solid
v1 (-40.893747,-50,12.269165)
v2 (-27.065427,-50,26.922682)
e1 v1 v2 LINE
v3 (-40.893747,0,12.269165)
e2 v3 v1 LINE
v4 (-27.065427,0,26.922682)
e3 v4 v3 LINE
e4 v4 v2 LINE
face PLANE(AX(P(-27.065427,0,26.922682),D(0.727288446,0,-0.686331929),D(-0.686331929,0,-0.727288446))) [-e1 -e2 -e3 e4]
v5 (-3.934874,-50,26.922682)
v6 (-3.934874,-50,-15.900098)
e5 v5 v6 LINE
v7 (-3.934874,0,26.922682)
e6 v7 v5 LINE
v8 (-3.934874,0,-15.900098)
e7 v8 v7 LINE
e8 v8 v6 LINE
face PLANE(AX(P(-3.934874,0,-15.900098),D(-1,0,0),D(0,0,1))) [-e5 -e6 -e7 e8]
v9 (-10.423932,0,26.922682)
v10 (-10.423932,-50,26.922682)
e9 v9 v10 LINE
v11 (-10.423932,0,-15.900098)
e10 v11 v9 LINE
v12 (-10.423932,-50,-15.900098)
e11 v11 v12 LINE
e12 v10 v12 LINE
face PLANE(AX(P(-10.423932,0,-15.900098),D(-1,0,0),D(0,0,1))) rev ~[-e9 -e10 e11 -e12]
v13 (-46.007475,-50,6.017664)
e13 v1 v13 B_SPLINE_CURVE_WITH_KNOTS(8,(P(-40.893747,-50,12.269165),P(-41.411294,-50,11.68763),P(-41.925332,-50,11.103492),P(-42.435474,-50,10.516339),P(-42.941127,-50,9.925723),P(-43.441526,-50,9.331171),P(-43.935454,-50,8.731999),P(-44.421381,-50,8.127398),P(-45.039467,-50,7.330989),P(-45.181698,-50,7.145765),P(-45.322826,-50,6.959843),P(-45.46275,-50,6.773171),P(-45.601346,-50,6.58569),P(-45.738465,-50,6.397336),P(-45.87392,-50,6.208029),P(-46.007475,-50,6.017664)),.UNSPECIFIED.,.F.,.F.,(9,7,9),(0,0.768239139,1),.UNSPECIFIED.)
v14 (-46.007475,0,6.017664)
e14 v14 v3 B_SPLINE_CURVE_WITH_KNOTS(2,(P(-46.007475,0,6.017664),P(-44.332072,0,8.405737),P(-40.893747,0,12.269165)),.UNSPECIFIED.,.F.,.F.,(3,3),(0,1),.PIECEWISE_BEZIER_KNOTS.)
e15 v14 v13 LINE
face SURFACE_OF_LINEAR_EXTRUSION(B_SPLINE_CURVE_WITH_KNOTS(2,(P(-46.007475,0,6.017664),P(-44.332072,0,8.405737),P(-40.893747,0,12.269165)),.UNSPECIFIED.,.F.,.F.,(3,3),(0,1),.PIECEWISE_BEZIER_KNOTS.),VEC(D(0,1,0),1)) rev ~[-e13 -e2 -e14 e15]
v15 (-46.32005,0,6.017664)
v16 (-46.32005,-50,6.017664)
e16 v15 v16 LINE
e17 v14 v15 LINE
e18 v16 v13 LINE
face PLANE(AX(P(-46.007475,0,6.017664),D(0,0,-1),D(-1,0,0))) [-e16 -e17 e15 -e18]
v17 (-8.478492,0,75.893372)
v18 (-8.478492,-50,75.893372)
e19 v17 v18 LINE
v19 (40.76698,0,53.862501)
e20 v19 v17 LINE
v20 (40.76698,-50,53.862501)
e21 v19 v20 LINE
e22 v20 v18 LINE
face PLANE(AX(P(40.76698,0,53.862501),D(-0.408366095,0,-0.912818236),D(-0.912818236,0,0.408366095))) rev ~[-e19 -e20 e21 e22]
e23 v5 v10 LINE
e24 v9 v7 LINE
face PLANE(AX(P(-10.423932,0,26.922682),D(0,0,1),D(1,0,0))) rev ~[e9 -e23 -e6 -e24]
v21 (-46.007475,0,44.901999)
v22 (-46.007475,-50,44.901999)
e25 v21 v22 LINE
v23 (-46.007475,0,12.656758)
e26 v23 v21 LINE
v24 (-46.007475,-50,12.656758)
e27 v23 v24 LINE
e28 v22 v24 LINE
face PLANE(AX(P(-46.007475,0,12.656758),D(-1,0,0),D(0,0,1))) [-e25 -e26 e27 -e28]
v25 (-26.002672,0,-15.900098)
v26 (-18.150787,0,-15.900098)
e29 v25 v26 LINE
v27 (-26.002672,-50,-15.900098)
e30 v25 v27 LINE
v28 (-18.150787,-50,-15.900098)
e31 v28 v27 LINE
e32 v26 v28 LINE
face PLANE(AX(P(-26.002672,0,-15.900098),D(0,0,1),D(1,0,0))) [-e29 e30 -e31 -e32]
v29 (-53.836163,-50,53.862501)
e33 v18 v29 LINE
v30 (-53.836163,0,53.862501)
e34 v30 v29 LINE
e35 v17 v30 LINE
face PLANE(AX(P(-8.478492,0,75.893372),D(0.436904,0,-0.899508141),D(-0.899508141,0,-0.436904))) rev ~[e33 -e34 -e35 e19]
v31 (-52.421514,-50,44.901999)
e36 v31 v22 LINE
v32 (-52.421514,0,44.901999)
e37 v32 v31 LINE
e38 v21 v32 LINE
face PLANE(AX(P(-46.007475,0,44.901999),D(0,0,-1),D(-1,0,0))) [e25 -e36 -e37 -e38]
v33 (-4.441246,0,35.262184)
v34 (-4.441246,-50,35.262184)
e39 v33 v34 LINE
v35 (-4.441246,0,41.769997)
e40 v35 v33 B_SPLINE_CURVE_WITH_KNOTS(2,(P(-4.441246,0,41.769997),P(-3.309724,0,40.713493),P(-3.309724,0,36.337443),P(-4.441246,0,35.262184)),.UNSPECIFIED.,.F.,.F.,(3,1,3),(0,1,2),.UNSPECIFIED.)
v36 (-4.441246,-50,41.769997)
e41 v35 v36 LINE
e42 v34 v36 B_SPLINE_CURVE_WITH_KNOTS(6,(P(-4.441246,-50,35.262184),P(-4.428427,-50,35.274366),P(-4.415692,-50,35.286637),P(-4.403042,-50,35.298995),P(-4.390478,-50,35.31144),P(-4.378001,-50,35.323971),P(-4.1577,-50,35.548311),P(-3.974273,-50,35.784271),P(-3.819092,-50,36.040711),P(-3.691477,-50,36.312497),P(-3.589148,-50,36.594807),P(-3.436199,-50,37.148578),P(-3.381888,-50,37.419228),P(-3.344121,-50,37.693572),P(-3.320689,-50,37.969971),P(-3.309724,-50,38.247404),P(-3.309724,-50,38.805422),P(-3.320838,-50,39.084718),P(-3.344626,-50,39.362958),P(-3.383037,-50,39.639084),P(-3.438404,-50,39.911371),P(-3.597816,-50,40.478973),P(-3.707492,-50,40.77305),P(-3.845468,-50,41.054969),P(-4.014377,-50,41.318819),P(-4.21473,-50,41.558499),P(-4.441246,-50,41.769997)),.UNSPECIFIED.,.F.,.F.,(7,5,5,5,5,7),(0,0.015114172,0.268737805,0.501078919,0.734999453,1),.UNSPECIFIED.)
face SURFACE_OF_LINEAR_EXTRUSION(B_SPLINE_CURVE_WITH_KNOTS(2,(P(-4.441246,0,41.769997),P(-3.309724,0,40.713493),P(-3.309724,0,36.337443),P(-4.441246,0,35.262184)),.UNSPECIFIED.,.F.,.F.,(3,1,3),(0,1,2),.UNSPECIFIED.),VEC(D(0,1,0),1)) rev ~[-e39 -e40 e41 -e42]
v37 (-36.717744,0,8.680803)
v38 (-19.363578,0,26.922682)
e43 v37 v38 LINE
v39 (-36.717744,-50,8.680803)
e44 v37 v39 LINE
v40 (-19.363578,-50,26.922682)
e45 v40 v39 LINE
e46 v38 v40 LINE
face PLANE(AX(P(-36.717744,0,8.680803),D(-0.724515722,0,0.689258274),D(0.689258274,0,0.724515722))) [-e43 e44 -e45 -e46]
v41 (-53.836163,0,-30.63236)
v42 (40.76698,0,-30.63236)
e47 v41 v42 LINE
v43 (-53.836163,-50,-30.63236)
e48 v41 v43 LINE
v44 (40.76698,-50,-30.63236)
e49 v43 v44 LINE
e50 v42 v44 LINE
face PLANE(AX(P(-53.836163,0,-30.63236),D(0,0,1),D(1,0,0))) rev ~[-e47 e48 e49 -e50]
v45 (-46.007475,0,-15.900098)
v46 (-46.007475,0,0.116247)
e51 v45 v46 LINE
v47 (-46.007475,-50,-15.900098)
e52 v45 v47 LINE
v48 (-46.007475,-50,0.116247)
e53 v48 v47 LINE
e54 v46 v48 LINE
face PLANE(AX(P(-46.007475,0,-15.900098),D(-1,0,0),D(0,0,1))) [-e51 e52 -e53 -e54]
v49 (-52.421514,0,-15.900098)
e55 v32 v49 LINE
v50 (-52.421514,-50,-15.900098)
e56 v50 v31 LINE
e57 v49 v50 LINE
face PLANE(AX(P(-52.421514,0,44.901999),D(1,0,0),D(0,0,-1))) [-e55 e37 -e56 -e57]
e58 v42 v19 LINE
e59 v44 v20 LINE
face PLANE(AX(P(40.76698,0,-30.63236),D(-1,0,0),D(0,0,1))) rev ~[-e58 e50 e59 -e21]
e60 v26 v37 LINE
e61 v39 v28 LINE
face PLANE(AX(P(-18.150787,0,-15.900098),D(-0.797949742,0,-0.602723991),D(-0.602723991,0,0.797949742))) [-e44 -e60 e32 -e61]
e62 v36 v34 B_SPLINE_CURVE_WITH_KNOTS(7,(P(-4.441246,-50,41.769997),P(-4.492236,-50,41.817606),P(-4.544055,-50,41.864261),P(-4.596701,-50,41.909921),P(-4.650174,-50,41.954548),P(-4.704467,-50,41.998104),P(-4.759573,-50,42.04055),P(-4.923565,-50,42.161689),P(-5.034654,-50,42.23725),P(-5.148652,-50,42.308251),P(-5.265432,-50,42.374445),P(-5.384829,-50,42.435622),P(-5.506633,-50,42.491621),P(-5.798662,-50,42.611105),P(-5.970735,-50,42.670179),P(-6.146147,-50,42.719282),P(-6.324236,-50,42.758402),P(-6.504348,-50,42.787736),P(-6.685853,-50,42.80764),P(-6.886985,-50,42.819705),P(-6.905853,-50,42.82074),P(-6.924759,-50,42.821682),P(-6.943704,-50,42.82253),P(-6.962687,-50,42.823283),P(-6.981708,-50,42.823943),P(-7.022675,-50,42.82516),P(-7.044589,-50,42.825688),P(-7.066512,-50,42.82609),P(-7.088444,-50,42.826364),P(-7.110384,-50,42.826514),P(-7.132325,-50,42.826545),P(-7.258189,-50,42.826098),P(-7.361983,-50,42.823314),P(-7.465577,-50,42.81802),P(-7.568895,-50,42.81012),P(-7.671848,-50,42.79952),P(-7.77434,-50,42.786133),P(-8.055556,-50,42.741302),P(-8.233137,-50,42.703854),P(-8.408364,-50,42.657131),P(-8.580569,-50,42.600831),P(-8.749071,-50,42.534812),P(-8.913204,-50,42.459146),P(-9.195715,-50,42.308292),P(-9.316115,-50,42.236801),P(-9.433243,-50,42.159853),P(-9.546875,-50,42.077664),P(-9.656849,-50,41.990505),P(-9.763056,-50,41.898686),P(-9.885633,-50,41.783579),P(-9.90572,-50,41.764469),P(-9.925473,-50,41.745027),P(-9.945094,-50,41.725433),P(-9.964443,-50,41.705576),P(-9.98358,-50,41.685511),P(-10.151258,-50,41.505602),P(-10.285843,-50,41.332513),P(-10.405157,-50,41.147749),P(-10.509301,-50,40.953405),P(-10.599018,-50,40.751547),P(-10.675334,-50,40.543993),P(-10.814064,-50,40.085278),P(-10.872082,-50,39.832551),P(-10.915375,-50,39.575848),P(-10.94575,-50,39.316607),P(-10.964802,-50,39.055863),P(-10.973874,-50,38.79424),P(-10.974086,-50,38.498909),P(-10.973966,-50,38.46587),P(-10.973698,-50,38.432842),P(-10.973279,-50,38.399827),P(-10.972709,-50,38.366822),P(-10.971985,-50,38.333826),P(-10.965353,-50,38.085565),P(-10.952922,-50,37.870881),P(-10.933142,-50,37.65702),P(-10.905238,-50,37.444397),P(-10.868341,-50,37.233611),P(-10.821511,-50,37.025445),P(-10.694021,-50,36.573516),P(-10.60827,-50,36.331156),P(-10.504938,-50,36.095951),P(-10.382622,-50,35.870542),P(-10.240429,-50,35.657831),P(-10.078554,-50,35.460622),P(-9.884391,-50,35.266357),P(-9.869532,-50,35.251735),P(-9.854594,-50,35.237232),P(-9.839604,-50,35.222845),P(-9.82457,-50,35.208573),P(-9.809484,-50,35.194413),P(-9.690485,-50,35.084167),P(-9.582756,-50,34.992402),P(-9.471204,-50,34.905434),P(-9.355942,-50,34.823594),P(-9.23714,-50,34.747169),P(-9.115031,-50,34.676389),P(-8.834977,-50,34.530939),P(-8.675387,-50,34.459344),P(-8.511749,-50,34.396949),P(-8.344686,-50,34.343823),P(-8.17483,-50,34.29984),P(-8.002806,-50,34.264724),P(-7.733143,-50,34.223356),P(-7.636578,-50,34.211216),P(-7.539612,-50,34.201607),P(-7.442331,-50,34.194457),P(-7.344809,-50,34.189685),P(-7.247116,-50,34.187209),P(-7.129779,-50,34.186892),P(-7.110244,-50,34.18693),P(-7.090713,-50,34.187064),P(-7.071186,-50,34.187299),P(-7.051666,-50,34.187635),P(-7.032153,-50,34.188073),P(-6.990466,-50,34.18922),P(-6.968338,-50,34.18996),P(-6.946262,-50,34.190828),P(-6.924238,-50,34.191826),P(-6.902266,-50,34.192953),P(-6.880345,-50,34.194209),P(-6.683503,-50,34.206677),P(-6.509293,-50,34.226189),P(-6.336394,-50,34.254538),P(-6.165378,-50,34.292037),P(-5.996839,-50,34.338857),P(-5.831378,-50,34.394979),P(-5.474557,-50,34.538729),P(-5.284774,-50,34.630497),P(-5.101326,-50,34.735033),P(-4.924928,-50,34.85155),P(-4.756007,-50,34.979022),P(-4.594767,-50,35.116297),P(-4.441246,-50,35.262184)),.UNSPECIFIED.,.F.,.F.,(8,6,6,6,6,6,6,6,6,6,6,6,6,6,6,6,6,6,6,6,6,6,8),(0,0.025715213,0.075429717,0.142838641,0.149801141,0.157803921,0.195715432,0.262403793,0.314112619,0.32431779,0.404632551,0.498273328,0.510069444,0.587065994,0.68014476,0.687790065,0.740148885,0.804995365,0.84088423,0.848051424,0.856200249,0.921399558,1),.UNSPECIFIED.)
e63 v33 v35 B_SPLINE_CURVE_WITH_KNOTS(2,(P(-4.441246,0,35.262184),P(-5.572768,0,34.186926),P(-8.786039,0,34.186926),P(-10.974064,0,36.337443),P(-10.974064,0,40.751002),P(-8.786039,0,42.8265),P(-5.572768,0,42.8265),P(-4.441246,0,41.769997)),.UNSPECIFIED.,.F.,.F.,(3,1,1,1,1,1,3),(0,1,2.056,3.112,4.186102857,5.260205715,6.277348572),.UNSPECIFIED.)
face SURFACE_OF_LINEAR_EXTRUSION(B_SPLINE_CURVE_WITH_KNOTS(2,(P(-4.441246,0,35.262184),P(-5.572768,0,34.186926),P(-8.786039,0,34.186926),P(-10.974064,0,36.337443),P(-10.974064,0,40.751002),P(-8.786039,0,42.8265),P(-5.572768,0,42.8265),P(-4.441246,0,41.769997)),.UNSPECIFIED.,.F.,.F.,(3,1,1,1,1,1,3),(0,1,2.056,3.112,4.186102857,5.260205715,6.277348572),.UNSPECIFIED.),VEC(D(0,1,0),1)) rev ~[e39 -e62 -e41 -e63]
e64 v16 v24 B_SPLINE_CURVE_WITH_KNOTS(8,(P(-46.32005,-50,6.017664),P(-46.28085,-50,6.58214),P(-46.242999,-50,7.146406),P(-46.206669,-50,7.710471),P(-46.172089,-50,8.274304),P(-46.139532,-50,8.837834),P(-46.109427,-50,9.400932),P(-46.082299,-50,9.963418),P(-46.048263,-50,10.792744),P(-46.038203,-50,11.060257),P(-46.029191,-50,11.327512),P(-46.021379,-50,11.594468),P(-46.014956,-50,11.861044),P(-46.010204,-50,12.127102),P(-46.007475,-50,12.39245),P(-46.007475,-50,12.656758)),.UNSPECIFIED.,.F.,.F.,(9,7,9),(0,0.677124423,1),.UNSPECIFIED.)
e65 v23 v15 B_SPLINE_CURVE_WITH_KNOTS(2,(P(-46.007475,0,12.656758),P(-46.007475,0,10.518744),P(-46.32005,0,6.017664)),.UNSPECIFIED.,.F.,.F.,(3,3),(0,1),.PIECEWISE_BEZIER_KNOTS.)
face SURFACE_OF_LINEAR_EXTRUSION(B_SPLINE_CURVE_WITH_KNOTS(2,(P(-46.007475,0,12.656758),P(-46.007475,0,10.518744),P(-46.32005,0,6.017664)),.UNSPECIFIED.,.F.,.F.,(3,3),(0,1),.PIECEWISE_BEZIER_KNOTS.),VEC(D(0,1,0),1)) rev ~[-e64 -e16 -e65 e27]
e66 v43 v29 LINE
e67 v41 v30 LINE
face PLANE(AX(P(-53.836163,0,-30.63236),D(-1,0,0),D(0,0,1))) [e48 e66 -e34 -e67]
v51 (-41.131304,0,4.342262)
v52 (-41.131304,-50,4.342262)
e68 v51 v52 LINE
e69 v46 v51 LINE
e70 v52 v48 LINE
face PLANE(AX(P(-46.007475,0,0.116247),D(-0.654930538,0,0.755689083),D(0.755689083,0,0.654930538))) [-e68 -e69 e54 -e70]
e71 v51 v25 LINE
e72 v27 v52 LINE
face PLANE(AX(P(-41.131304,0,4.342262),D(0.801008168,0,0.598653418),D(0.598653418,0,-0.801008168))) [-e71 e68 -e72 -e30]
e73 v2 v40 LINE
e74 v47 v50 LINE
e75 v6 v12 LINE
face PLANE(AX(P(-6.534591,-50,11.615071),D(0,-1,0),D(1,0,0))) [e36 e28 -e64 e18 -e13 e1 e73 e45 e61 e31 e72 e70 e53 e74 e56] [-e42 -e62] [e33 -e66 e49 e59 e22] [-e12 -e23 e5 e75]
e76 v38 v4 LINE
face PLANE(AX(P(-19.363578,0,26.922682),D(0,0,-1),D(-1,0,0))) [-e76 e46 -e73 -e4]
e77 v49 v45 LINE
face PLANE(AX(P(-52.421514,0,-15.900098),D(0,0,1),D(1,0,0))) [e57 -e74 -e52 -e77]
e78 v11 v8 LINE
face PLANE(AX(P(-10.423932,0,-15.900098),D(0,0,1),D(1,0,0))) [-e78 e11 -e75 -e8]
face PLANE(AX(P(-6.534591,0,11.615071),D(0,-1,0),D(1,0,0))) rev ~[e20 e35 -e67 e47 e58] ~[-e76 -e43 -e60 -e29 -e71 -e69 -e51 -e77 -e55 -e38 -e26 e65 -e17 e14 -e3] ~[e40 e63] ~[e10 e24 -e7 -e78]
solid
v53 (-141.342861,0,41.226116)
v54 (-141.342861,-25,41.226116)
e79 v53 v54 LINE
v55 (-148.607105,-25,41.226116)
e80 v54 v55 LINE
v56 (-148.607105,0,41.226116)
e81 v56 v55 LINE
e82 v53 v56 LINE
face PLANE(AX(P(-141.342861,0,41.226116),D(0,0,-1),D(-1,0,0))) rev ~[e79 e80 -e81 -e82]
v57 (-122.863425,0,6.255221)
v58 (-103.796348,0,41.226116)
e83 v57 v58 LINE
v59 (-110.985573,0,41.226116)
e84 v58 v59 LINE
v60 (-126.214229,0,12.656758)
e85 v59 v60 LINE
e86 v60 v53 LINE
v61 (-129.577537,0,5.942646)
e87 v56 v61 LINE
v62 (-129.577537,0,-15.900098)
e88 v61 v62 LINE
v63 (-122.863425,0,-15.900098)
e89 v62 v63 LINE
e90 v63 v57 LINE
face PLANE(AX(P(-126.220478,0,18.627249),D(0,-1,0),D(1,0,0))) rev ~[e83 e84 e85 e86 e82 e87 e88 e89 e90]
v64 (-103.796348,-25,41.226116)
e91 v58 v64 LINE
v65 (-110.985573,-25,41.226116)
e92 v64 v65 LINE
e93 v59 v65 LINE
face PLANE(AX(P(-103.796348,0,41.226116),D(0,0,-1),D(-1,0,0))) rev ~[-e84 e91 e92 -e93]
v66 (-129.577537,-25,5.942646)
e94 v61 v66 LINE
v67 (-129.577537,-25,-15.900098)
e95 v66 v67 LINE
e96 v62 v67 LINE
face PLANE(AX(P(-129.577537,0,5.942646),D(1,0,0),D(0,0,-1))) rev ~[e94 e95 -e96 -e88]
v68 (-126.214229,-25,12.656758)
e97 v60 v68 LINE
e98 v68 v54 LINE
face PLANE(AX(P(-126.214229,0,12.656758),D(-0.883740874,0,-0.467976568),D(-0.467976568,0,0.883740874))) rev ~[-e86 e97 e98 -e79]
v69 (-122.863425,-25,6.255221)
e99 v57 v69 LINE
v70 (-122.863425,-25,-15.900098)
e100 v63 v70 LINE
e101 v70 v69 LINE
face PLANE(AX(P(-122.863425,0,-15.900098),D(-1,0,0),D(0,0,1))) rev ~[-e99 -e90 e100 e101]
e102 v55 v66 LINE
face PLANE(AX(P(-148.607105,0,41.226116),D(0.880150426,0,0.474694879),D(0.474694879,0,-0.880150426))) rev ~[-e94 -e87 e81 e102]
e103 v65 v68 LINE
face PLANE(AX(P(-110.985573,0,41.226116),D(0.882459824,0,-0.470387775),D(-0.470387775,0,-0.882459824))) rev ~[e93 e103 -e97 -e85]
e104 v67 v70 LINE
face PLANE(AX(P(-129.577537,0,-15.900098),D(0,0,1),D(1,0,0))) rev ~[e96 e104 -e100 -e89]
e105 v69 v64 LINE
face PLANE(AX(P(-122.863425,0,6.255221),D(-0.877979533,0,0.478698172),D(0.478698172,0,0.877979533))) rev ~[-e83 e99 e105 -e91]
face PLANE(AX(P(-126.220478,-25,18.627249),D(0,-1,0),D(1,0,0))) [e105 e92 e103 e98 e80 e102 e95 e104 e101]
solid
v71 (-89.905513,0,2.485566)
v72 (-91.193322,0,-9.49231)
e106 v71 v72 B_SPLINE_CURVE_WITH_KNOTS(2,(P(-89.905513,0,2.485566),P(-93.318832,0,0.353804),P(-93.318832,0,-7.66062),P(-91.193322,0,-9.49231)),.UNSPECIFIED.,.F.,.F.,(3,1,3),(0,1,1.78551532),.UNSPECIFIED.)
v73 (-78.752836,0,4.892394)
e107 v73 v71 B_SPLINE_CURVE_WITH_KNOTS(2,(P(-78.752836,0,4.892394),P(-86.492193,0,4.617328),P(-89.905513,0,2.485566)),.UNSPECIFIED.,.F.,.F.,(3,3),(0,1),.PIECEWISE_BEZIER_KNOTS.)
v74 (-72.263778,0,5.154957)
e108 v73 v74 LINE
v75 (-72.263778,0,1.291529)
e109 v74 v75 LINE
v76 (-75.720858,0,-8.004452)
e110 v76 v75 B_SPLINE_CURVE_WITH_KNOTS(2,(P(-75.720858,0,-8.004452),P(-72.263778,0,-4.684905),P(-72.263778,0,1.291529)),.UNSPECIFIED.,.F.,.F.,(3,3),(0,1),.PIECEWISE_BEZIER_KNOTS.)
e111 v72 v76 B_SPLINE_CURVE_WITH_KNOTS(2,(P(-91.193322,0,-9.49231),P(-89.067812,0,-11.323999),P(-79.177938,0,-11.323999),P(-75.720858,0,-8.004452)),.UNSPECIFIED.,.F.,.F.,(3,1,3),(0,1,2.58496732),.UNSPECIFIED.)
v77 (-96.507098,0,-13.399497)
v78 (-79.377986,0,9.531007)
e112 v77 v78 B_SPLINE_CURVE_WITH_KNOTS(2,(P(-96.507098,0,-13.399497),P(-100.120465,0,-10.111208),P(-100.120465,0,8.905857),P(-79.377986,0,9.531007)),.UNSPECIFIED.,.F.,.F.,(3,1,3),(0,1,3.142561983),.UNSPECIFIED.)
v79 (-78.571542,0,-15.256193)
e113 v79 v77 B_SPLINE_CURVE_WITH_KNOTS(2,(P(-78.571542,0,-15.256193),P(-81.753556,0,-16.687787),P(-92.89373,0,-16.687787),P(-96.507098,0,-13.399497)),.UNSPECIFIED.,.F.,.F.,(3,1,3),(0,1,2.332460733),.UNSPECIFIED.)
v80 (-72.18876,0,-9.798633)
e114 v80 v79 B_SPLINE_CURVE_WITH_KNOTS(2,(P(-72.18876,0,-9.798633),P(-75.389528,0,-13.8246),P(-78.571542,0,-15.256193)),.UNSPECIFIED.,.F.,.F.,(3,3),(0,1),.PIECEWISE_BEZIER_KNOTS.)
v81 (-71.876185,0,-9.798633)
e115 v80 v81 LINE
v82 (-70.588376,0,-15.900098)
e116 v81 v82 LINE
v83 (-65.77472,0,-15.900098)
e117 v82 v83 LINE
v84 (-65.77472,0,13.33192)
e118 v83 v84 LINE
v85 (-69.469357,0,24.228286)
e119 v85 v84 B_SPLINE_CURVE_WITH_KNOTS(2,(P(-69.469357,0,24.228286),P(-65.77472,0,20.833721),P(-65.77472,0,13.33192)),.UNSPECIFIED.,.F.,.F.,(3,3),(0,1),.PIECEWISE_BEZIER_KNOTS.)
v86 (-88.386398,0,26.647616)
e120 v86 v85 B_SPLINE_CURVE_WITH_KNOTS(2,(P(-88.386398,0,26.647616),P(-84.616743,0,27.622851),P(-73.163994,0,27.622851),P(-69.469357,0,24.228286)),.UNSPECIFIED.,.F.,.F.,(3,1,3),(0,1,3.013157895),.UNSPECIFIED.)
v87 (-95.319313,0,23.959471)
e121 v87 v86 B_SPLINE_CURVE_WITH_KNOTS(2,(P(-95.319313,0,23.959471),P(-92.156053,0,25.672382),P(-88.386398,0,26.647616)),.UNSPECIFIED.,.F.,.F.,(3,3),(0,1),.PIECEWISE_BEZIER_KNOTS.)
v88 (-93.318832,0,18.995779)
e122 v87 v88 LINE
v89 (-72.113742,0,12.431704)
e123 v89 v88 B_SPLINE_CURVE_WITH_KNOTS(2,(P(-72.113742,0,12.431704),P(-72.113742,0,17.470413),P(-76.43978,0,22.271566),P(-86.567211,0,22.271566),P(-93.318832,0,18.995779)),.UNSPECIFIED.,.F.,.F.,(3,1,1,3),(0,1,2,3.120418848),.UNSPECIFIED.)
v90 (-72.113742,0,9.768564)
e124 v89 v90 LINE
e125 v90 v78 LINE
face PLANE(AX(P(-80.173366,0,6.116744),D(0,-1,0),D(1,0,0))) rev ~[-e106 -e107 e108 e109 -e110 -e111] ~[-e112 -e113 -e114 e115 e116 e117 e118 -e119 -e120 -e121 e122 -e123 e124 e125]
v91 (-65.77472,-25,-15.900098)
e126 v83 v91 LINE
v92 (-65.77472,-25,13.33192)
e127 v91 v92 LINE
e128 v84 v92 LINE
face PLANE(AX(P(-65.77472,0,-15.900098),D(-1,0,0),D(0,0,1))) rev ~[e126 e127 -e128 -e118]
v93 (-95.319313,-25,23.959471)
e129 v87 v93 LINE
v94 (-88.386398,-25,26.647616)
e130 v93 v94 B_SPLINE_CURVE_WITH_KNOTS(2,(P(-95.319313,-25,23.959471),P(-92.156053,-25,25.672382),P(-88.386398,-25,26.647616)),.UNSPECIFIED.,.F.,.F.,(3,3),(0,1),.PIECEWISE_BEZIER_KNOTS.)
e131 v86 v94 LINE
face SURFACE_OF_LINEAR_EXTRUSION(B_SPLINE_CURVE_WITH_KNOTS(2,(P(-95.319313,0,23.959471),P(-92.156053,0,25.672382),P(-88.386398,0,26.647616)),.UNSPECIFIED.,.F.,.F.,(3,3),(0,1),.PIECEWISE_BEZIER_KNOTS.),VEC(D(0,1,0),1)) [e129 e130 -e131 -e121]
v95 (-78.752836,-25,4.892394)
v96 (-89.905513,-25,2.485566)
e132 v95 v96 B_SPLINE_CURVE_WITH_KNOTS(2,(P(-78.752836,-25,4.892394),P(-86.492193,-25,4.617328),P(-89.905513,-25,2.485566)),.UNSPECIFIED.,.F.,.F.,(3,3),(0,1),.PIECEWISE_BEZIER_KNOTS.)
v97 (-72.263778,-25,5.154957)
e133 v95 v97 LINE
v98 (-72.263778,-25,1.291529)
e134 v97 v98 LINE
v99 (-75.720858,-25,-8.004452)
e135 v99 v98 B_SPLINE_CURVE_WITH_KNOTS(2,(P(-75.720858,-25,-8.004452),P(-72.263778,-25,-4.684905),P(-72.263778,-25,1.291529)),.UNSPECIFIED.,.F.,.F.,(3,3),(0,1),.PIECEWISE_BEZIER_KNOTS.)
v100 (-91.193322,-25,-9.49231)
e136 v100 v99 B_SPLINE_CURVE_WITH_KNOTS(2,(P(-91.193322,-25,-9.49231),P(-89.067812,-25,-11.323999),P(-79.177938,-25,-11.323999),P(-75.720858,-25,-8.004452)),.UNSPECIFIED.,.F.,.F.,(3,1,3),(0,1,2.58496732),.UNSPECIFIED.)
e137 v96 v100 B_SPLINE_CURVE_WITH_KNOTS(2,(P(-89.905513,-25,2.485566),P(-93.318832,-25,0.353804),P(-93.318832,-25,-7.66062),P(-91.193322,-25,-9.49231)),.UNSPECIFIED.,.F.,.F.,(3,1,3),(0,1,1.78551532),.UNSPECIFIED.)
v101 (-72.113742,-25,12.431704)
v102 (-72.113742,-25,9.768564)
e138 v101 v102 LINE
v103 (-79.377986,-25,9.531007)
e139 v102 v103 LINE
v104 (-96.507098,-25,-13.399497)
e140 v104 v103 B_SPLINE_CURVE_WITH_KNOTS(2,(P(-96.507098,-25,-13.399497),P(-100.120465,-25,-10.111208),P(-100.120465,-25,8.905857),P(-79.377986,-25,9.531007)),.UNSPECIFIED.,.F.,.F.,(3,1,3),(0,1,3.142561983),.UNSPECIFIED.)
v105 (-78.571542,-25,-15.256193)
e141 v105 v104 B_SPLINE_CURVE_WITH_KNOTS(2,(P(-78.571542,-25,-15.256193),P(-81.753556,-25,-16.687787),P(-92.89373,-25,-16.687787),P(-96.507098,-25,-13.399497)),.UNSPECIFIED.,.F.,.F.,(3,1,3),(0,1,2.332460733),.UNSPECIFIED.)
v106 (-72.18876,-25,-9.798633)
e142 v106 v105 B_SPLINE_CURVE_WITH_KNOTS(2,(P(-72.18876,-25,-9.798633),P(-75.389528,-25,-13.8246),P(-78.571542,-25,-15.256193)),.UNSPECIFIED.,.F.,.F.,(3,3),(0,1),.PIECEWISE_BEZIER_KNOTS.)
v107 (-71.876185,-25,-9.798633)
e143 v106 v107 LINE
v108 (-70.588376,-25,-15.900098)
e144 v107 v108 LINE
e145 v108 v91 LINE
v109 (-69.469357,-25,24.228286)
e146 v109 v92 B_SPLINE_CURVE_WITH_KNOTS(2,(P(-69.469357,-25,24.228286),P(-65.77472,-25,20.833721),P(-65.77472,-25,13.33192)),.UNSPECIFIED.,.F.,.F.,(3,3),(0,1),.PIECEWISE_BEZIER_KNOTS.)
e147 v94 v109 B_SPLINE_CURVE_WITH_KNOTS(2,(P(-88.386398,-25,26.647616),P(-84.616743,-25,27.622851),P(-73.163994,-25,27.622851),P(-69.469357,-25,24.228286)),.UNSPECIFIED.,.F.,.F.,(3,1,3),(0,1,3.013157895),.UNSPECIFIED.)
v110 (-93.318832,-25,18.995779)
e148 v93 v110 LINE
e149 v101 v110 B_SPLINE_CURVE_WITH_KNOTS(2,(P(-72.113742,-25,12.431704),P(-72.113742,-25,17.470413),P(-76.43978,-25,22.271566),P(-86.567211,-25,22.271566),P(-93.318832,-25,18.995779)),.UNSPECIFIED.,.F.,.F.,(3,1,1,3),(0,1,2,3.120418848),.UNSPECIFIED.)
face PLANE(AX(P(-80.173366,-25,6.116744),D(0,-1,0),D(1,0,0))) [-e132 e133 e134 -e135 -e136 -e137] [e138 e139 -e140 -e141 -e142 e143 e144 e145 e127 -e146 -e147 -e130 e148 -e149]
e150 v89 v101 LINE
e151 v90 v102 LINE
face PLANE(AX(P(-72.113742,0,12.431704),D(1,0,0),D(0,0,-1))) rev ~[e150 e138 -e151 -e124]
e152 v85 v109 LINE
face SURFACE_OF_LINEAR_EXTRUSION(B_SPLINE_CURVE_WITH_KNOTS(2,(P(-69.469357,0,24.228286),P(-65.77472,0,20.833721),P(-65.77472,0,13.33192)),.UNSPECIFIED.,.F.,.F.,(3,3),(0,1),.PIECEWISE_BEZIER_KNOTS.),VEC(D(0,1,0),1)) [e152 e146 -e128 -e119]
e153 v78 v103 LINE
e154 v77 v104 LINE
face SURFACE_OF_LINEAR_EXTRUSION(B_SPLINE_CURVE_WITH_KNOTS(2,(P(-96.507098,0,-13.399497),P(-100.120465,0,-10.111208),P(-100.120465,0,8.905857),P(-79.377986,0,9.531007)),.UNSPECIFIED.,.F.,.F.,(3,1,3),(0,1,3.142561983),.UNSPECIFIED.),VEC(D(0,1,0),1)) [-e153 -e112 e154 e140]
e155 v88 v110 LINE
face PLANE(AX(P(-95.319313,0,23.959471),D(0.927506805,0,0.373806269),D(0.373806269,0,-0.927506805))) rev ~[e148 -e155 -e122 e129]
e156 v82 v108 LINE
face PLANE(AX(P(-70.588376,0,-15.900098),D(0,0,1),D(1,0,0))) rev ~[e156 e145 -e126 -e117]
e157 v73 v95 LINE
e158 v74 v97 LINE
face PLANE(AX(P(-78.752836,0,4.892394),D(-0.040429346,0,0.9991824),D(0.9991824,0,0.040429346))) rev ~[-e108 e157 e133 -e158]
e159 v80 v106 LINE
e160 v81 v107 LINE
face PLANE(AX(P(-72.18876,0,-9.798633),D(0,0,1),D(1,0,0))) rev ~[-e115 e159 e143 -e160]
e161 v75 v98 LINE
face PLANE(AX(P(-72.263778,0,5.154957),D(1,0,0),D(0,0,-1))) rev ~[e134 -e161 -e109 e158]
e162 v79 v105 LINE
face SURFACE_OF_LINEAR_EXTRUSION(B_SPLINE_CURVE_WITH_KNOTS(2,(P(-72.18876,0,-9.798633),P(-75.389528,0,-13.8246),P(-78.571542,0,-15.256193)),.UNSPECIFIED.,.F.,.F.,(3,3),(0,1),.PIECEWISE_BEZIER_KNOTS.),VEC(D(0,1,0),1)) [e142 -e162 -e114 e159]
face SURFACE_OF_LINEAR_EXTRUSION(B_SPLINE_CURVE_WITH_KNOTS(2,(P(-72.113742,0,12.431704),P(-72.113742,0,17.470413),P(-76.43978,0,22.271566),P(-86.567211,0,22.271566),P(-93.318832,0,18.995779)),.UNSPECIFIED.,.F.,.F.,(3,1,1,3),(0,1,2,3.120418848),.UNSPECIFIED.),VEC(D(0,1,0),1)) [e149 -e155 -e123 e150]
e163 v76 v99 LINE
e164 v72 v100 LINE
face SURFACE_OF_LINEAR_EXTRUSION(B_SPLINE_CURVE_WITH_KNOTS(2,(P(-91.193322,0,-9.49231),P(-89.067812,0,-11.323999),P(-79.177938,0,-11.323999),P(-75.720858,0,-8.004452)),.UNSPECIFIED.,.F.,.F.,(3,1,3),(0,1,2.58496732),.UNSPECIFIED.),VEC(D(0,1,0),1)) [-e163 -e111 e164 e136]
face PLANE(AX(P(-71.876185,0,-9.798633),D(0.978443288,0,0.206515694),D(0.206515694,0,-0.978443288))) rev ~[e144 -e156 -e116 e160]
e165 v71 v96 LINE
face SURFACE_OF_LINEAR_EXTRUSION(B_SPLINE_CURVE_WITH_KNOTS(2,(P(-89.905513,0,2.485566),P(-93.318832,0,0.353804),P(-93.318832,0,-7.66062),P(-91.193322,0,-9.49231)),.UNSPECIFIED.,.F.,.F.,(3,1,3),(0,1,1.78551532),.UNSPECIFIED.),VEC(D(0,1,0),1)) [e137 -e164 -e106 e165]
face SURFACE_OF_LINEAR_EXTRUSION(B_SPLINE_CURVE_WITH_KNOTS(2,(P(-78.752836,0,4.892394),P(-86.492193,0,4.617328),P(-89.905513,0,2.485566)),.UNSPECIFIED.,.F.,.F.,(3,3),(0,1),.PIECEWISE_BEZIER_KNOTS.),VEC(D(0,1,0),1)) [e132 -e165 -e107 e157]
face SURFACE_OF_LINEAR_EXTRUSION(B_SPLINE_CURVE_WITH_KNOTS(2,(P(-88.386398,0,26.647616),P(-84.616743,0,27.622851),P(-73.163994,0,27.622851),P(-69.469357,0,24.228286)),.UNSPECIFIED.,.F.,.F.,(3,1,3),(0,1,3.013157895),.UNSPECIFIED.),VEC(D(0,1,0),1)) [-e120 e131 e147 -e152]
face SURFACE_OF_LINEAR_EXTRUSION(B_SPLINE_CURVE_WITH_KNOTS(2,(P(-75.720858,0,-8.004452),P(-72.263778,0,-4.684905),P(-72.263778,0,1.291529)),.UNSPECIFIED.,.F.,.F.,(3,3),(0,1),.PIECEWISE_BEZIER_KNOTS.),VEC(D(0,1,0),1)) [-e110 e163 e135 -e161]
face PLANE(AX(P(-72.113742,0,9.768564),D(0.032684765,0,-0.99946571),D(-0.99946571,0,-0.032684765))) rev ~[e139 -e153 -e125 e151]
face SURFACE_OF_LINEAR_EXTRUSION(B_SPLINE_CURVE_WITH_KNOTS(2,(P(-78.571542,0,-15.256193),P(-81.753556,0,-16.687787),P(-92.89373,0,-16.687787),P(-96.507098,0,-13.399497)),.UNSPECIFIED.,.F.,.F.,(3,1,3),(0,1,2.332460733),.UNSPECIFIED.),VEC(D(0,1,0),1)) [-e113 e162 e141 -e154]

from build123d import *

# Parameters (mm, degrees)
F0_W     = 94.6031436324
F0_H     = 84.4948608428
F1_DEPTH = 50
F3_DEPTH = 25
F2_W     = 6.4890577899
F2_H     = 42.8227802129
F4_DEPTH = 50.001


with BuildPart() as f1:
    # F0 (on Front) → F1 (new body)
    with BuildSketch(Plane.XZ):
        with Locations((-6.5345913172, 11.6150705144)):
            Rectangle(F0_W, F0_H)
        Polygon((-8.4784915671, 75.8933722973), (-53.8361631334, 53.8625009358), (40.766980499, 53.8625009358), align=None)
    extrude(amount=F1_DEPTH)

    # F2 (on Front) → F4 (cut, through all)
    with BuildSketch(Plane.XZ):
        with Locations((-7.1794033004, 5.5112923191)):
            Rectangle(F2_W, F2_H)
        with BuildLine():
            add(Edge.make_bspline(
                [(-10.9740642624, 38.5254678379), (-10.9740642624, 40.7510021089), (-9.8800516292, 41.7887512352)],
                knots=[0, 0, 0, 1, 1, 1], degree=2))
            add(Edge.make_bspline(
                [(-9.8800516292, 35.2621844407), (-10.9740642624, 36.3374425716), (-10.9740642624, 38.5254678379)],
                knots=[0, 0, 0, 1, 1, 1], degree=2))
            add(Edge.make_bspline(
                [(-7.1356427951, 34.1869263098), (-8.786038996, 34.1869263098), (-9.8800516292, 35.2621844407)],
                knots=[0, 0, 0, 1, 1, 1], degree=2))
            add(Edge.make_bspline(
                [(-4.4412459671, 35.2621844407), (-5.5727676049, 34.1869263098), (-7.1356427951, 34.1869263098)],
                knots=[0, 0, 0, 1, 1, 1], degree=2))
            add(Edge.make_bspline(
                [(-3.3097243294, 38.5254678379), (-3.3097243294, 36.3374425716), (-4.4412459671, 35.2621844407)],
                knots=[0, 0, 0, 1, 1, 1], degree=2))
            add(Edge.make_bspline(
                [(-4.4412459671, 41.7699967329), (-3.3097243294, 40.7134931043), (-3.3097243294, 38.5254678379)],
                knots=[0, 0, 0, 1, 1, 1], degree=2))
            add(Edge.make_bspline(
                [(-7.1356427951, 42.8265003615), (-5.5727676049, 42.8265003615), (-4.4412459671, 41.7699967329)],
                knots=[0, 0, 0, 1, 1, 1], degree=2))
            add(Edge.make_bspline(
                [(-9.8800516292, 41.7887512352), (-8.786038996, 42.8265003615), (-7.1356427951, 42.8265003615)],
                knots=[0, 0, 0, 1, 1, 1], degree=2))
        make_face()
        with BuildLine():
            add(Edge.make_bspline(
                [(-46.0074745271, 6.0176638807), (-44.3320723231, 8.4057371714), (-40.8937469046, 12.2691646417)],
                knots=[0, 0, 0, 1, 1, 1], degree=2))
            Line((-46.0074745271, 6.0176638807), (-46.3200495651, 6.0176638807))
            add(Edge.make_bspline(
                [(-46.0074745271, 12.6567576889), (-46.0074745271, 10.5187444286), (-46.3200495651, 6.0176638807)],
                knots=[0, 0, 0, 1, 1, 1], degree=2))
            Line((-46.0074745271, 12.6567576889), (-46.0074745271, 44.9019986142))
            Line((-46.0074745271, 44.9019986142), (-52.4215143079, 44.9019986142))
            Line((-52.4215143079, 44.9019986142), (-52.4215143079, -15.9000977874))
            Line((-52.4215143079, -15.9000977874), (-46.0074745271, -15.9000977874))
            Line((-46.0074745271, -15.9000977874), (-46.0074745271, 0.1162471623))
            Line((-46.0074745271, 0.1162471623), (-41.1313039335, 4.3422616768))
            Line((-41.1313039335, 4.3422616768), (-26.0026720918, -15.9000977874))
            Line((-26.0026720918, -15.9000977874), (-18.150787136, -15.9000977874))
            Line((-18.150787136, -15.9000977874), (-36.7177443962, 8.6808032049))
            Line((-36.7177443962, 8.6808032049), (-19.3635782836, 26.9226824255))
            Line((-19.3635782836, 26.9226824255), (-27.0654272212, 26.9226824255))
            Line((-27.0654272212, 26.9226824255), (-40.8937469046, 12.2691646417))
        make_face()
    extrude(amount=F4_DEPTH, mode=Mode.SUBTRACT)


with BuildPart() as f3:
    # F2 (on Front) → F3 (new body)
    with BuildSketch(Plane.XZ):
        Polygon((-110.985573437, 41.2261161667), (-126.2142292908, 12.6567576889), (-141.3428611324, 41.2261161667), (-148.6071050167, 41.2261161667), (-129.5775367002, 5.9426458716), (-129.5775367002, -15.9000977874), (-122.8634248829, -15.9000977874), (-122.8634248829, 6.2552209096), (-103.7963475618, 41.2261161667), align=None)
        with BuildLine():
            Line((-71.8761846761, -9.7986330446), (-70.5883755193, -15.9000977874))
            Line((-70.5883755193, -15.9000977874), (-65.7747199334, -15.9000977874))
            Line((-65.7747199334, -15.9000977874), (-65.7747199334, 13.3319197711))
            add(Edge.make_bspline(
                [(-69.4693568831, 24.2282855975), (-65.7747199334, 20.8337206843), (-65.7747199334, 13.3319197711)],
                knots=[0, 0, 0, 1, 1, 1], degree=2))
            add(Edge.make_bspline(
                [(-80.8158307643, 27.6228505108), (-73.1639938329, 27.6228505108), (-69.4693568831, 24.2282855975)],
                knots=[0, 0, 0, 1, 1, 1], degree=2))
            add(Edge.make_bspline(
                [(-88.3863981859, 26.647616392), (-84.616743227, 27.6228505108), (-80.8158307643, 27.6228505108)],
                knots=[0, 0, 0, 1, 1, 1], degree=2))
            add(Edge.make_bspline(
                [(-95.3193125299, 23.9594710648), (-92.1560531448, 25.6723822733), (-88.3863981859, 26.647616392)],
                knots=[0, 0, 0, 1, 1, 1], degree=2))
            Line((-95.3193125299, 23.9594710648), (-93.3188322864, 18.9957794606))
            add(Edge.make_bspline(
                [(-81.2159268131, 22.2715658593), (-86.5672114645, 22.2715658593), (-93.3188322864, 18.9957794606)],
                knots=[0, 0, 0, 1, 1, 1], degree=2))
            add(Edge.make_bspline(
                [(-74.2767609683, 19.8709895671), (-76.4397802316, 22.2715658593), (-81.2159268131, 22.2715658593)],
                knots=[0, 0, 0, 1, 1, 1], degree=2))
            add(Edge.make_bspline(
                [(-72.113741705, 12.4317036615), (-72.113741705, 17.4704132749), (-74.2767609683, 19.8709895671)],
                knots=[0, 0, 0, 1, 1, 1], degree=2))
            Line((-72.113741705, 12.4317036615), (-72.113741705, 9.7685643373))
            Line((-72.113741705, 9.7685643373), (-79.3779855893, 9.5310073084))
            add(Edge.make_bspline(
                [(-100.1204651143, -4.059755346), (-100.1204651143, 8.9058572323), (-79.3779855893, 9.5310073084)],
                knots=[0, 0, 0, 1, 1, 1], degree=2))
            add(Edge.make_bspline(
                [(-96.5070976745, -13.399497483), (-100.1204651143, -10.1112080827), (-100.1204651143, -4.059755346)],
                knots=[0, 0, 0, 1, 1, 1], degree=2))
            add(Edge.make_bspline(
                [(-86.5297024599, -16.6877868833), (-92.8937302346, -16.6877868833), (-96.5070976745, -13.399497483)],
                knots=[0, 0, 0, 1, 1, 1], degree=2))
            add(Edge.make_bspline(
                [(-78.5715419911, -15.256193209), (-81.7535558785, -16.6877868833), (-86.5297024599, -16.6877868833)],
                knots=[0, 0, 0, 1, 1, 1], degree=2))
            add(Edge.make_bspline(
                [(-72.1887597142, -9.7986330446), (-75.3895281038, -13.8245995347), (-78.5715419911, -15.256193209)],
                knots=[0, 0, 0, 1, 1, 1], degree=2))
            Line((-72.1887597142, -9.7986330446), (-71.8761846761, -9.7986330446))
        make_face()
        with BuildLine():
            add(Edge.make_bspline(
                [(-85.2418933031, -11.3239992303), (-79.177937565, -11.3239992303), (-75.7208576441, -8.0044523262)],
                knots=[0, 0, 0, 1, 1, 1], degree=2))
            add(Edge.make_bspline(
                [(-91.1933220276, -9.4923095073), (-89.0678117689, -11.3239992303), (-85.2418933031, -11.3239992303)],
                knots=[0, 0, 0, 1, 1, 1], degree=2))
            add(Edge.make_bspline(
                [(-93.3188322864, -4.1347733552), (-93.3188322864, -7.6606197844), (-91.1933220276, -9.4923095073)],
                knots=[0, 0, 0, 1, 1, 1], degree=2))
            add(Edge.make_bspline(
                [(-89.9055128709, 2.4855659507), (-93.3188322864, 0.3538041912), (-93.3188322864, -4.1347733552)],
                knots=[0, 0, 0, 1, 1, 1], degree=2))
            add(Edge.make_bspline(
                [(-78.7528355132, 4.8923937437), (-86.4921934553, 4.6173277102), (-89.9055128709, 2.4855659507)],
                knots=[0, 0, 0, 1, 1, 1], degree=2))
            Line((-78.7528355132, 4.8923937437), (-72.2637777233, 5.1549567757))
            Line((-72.2637777233, 5.1549567757), (-72.2637777233, 1.2915293054))
            add(Edge.make_bspline(
                [(-75.7208576441, -8.0044523262), (-72.2637777233, -4.6849054221), (-72.2637777233, 1.2915293054)],
                knots=[0, 0, 0, 1, 1, 1], degree=2))
        make_face(mode=Mode.SUBTRACT)
    extrude(amount=F3_DEPTH)


solid = Compound([f1.part, f3.part])
